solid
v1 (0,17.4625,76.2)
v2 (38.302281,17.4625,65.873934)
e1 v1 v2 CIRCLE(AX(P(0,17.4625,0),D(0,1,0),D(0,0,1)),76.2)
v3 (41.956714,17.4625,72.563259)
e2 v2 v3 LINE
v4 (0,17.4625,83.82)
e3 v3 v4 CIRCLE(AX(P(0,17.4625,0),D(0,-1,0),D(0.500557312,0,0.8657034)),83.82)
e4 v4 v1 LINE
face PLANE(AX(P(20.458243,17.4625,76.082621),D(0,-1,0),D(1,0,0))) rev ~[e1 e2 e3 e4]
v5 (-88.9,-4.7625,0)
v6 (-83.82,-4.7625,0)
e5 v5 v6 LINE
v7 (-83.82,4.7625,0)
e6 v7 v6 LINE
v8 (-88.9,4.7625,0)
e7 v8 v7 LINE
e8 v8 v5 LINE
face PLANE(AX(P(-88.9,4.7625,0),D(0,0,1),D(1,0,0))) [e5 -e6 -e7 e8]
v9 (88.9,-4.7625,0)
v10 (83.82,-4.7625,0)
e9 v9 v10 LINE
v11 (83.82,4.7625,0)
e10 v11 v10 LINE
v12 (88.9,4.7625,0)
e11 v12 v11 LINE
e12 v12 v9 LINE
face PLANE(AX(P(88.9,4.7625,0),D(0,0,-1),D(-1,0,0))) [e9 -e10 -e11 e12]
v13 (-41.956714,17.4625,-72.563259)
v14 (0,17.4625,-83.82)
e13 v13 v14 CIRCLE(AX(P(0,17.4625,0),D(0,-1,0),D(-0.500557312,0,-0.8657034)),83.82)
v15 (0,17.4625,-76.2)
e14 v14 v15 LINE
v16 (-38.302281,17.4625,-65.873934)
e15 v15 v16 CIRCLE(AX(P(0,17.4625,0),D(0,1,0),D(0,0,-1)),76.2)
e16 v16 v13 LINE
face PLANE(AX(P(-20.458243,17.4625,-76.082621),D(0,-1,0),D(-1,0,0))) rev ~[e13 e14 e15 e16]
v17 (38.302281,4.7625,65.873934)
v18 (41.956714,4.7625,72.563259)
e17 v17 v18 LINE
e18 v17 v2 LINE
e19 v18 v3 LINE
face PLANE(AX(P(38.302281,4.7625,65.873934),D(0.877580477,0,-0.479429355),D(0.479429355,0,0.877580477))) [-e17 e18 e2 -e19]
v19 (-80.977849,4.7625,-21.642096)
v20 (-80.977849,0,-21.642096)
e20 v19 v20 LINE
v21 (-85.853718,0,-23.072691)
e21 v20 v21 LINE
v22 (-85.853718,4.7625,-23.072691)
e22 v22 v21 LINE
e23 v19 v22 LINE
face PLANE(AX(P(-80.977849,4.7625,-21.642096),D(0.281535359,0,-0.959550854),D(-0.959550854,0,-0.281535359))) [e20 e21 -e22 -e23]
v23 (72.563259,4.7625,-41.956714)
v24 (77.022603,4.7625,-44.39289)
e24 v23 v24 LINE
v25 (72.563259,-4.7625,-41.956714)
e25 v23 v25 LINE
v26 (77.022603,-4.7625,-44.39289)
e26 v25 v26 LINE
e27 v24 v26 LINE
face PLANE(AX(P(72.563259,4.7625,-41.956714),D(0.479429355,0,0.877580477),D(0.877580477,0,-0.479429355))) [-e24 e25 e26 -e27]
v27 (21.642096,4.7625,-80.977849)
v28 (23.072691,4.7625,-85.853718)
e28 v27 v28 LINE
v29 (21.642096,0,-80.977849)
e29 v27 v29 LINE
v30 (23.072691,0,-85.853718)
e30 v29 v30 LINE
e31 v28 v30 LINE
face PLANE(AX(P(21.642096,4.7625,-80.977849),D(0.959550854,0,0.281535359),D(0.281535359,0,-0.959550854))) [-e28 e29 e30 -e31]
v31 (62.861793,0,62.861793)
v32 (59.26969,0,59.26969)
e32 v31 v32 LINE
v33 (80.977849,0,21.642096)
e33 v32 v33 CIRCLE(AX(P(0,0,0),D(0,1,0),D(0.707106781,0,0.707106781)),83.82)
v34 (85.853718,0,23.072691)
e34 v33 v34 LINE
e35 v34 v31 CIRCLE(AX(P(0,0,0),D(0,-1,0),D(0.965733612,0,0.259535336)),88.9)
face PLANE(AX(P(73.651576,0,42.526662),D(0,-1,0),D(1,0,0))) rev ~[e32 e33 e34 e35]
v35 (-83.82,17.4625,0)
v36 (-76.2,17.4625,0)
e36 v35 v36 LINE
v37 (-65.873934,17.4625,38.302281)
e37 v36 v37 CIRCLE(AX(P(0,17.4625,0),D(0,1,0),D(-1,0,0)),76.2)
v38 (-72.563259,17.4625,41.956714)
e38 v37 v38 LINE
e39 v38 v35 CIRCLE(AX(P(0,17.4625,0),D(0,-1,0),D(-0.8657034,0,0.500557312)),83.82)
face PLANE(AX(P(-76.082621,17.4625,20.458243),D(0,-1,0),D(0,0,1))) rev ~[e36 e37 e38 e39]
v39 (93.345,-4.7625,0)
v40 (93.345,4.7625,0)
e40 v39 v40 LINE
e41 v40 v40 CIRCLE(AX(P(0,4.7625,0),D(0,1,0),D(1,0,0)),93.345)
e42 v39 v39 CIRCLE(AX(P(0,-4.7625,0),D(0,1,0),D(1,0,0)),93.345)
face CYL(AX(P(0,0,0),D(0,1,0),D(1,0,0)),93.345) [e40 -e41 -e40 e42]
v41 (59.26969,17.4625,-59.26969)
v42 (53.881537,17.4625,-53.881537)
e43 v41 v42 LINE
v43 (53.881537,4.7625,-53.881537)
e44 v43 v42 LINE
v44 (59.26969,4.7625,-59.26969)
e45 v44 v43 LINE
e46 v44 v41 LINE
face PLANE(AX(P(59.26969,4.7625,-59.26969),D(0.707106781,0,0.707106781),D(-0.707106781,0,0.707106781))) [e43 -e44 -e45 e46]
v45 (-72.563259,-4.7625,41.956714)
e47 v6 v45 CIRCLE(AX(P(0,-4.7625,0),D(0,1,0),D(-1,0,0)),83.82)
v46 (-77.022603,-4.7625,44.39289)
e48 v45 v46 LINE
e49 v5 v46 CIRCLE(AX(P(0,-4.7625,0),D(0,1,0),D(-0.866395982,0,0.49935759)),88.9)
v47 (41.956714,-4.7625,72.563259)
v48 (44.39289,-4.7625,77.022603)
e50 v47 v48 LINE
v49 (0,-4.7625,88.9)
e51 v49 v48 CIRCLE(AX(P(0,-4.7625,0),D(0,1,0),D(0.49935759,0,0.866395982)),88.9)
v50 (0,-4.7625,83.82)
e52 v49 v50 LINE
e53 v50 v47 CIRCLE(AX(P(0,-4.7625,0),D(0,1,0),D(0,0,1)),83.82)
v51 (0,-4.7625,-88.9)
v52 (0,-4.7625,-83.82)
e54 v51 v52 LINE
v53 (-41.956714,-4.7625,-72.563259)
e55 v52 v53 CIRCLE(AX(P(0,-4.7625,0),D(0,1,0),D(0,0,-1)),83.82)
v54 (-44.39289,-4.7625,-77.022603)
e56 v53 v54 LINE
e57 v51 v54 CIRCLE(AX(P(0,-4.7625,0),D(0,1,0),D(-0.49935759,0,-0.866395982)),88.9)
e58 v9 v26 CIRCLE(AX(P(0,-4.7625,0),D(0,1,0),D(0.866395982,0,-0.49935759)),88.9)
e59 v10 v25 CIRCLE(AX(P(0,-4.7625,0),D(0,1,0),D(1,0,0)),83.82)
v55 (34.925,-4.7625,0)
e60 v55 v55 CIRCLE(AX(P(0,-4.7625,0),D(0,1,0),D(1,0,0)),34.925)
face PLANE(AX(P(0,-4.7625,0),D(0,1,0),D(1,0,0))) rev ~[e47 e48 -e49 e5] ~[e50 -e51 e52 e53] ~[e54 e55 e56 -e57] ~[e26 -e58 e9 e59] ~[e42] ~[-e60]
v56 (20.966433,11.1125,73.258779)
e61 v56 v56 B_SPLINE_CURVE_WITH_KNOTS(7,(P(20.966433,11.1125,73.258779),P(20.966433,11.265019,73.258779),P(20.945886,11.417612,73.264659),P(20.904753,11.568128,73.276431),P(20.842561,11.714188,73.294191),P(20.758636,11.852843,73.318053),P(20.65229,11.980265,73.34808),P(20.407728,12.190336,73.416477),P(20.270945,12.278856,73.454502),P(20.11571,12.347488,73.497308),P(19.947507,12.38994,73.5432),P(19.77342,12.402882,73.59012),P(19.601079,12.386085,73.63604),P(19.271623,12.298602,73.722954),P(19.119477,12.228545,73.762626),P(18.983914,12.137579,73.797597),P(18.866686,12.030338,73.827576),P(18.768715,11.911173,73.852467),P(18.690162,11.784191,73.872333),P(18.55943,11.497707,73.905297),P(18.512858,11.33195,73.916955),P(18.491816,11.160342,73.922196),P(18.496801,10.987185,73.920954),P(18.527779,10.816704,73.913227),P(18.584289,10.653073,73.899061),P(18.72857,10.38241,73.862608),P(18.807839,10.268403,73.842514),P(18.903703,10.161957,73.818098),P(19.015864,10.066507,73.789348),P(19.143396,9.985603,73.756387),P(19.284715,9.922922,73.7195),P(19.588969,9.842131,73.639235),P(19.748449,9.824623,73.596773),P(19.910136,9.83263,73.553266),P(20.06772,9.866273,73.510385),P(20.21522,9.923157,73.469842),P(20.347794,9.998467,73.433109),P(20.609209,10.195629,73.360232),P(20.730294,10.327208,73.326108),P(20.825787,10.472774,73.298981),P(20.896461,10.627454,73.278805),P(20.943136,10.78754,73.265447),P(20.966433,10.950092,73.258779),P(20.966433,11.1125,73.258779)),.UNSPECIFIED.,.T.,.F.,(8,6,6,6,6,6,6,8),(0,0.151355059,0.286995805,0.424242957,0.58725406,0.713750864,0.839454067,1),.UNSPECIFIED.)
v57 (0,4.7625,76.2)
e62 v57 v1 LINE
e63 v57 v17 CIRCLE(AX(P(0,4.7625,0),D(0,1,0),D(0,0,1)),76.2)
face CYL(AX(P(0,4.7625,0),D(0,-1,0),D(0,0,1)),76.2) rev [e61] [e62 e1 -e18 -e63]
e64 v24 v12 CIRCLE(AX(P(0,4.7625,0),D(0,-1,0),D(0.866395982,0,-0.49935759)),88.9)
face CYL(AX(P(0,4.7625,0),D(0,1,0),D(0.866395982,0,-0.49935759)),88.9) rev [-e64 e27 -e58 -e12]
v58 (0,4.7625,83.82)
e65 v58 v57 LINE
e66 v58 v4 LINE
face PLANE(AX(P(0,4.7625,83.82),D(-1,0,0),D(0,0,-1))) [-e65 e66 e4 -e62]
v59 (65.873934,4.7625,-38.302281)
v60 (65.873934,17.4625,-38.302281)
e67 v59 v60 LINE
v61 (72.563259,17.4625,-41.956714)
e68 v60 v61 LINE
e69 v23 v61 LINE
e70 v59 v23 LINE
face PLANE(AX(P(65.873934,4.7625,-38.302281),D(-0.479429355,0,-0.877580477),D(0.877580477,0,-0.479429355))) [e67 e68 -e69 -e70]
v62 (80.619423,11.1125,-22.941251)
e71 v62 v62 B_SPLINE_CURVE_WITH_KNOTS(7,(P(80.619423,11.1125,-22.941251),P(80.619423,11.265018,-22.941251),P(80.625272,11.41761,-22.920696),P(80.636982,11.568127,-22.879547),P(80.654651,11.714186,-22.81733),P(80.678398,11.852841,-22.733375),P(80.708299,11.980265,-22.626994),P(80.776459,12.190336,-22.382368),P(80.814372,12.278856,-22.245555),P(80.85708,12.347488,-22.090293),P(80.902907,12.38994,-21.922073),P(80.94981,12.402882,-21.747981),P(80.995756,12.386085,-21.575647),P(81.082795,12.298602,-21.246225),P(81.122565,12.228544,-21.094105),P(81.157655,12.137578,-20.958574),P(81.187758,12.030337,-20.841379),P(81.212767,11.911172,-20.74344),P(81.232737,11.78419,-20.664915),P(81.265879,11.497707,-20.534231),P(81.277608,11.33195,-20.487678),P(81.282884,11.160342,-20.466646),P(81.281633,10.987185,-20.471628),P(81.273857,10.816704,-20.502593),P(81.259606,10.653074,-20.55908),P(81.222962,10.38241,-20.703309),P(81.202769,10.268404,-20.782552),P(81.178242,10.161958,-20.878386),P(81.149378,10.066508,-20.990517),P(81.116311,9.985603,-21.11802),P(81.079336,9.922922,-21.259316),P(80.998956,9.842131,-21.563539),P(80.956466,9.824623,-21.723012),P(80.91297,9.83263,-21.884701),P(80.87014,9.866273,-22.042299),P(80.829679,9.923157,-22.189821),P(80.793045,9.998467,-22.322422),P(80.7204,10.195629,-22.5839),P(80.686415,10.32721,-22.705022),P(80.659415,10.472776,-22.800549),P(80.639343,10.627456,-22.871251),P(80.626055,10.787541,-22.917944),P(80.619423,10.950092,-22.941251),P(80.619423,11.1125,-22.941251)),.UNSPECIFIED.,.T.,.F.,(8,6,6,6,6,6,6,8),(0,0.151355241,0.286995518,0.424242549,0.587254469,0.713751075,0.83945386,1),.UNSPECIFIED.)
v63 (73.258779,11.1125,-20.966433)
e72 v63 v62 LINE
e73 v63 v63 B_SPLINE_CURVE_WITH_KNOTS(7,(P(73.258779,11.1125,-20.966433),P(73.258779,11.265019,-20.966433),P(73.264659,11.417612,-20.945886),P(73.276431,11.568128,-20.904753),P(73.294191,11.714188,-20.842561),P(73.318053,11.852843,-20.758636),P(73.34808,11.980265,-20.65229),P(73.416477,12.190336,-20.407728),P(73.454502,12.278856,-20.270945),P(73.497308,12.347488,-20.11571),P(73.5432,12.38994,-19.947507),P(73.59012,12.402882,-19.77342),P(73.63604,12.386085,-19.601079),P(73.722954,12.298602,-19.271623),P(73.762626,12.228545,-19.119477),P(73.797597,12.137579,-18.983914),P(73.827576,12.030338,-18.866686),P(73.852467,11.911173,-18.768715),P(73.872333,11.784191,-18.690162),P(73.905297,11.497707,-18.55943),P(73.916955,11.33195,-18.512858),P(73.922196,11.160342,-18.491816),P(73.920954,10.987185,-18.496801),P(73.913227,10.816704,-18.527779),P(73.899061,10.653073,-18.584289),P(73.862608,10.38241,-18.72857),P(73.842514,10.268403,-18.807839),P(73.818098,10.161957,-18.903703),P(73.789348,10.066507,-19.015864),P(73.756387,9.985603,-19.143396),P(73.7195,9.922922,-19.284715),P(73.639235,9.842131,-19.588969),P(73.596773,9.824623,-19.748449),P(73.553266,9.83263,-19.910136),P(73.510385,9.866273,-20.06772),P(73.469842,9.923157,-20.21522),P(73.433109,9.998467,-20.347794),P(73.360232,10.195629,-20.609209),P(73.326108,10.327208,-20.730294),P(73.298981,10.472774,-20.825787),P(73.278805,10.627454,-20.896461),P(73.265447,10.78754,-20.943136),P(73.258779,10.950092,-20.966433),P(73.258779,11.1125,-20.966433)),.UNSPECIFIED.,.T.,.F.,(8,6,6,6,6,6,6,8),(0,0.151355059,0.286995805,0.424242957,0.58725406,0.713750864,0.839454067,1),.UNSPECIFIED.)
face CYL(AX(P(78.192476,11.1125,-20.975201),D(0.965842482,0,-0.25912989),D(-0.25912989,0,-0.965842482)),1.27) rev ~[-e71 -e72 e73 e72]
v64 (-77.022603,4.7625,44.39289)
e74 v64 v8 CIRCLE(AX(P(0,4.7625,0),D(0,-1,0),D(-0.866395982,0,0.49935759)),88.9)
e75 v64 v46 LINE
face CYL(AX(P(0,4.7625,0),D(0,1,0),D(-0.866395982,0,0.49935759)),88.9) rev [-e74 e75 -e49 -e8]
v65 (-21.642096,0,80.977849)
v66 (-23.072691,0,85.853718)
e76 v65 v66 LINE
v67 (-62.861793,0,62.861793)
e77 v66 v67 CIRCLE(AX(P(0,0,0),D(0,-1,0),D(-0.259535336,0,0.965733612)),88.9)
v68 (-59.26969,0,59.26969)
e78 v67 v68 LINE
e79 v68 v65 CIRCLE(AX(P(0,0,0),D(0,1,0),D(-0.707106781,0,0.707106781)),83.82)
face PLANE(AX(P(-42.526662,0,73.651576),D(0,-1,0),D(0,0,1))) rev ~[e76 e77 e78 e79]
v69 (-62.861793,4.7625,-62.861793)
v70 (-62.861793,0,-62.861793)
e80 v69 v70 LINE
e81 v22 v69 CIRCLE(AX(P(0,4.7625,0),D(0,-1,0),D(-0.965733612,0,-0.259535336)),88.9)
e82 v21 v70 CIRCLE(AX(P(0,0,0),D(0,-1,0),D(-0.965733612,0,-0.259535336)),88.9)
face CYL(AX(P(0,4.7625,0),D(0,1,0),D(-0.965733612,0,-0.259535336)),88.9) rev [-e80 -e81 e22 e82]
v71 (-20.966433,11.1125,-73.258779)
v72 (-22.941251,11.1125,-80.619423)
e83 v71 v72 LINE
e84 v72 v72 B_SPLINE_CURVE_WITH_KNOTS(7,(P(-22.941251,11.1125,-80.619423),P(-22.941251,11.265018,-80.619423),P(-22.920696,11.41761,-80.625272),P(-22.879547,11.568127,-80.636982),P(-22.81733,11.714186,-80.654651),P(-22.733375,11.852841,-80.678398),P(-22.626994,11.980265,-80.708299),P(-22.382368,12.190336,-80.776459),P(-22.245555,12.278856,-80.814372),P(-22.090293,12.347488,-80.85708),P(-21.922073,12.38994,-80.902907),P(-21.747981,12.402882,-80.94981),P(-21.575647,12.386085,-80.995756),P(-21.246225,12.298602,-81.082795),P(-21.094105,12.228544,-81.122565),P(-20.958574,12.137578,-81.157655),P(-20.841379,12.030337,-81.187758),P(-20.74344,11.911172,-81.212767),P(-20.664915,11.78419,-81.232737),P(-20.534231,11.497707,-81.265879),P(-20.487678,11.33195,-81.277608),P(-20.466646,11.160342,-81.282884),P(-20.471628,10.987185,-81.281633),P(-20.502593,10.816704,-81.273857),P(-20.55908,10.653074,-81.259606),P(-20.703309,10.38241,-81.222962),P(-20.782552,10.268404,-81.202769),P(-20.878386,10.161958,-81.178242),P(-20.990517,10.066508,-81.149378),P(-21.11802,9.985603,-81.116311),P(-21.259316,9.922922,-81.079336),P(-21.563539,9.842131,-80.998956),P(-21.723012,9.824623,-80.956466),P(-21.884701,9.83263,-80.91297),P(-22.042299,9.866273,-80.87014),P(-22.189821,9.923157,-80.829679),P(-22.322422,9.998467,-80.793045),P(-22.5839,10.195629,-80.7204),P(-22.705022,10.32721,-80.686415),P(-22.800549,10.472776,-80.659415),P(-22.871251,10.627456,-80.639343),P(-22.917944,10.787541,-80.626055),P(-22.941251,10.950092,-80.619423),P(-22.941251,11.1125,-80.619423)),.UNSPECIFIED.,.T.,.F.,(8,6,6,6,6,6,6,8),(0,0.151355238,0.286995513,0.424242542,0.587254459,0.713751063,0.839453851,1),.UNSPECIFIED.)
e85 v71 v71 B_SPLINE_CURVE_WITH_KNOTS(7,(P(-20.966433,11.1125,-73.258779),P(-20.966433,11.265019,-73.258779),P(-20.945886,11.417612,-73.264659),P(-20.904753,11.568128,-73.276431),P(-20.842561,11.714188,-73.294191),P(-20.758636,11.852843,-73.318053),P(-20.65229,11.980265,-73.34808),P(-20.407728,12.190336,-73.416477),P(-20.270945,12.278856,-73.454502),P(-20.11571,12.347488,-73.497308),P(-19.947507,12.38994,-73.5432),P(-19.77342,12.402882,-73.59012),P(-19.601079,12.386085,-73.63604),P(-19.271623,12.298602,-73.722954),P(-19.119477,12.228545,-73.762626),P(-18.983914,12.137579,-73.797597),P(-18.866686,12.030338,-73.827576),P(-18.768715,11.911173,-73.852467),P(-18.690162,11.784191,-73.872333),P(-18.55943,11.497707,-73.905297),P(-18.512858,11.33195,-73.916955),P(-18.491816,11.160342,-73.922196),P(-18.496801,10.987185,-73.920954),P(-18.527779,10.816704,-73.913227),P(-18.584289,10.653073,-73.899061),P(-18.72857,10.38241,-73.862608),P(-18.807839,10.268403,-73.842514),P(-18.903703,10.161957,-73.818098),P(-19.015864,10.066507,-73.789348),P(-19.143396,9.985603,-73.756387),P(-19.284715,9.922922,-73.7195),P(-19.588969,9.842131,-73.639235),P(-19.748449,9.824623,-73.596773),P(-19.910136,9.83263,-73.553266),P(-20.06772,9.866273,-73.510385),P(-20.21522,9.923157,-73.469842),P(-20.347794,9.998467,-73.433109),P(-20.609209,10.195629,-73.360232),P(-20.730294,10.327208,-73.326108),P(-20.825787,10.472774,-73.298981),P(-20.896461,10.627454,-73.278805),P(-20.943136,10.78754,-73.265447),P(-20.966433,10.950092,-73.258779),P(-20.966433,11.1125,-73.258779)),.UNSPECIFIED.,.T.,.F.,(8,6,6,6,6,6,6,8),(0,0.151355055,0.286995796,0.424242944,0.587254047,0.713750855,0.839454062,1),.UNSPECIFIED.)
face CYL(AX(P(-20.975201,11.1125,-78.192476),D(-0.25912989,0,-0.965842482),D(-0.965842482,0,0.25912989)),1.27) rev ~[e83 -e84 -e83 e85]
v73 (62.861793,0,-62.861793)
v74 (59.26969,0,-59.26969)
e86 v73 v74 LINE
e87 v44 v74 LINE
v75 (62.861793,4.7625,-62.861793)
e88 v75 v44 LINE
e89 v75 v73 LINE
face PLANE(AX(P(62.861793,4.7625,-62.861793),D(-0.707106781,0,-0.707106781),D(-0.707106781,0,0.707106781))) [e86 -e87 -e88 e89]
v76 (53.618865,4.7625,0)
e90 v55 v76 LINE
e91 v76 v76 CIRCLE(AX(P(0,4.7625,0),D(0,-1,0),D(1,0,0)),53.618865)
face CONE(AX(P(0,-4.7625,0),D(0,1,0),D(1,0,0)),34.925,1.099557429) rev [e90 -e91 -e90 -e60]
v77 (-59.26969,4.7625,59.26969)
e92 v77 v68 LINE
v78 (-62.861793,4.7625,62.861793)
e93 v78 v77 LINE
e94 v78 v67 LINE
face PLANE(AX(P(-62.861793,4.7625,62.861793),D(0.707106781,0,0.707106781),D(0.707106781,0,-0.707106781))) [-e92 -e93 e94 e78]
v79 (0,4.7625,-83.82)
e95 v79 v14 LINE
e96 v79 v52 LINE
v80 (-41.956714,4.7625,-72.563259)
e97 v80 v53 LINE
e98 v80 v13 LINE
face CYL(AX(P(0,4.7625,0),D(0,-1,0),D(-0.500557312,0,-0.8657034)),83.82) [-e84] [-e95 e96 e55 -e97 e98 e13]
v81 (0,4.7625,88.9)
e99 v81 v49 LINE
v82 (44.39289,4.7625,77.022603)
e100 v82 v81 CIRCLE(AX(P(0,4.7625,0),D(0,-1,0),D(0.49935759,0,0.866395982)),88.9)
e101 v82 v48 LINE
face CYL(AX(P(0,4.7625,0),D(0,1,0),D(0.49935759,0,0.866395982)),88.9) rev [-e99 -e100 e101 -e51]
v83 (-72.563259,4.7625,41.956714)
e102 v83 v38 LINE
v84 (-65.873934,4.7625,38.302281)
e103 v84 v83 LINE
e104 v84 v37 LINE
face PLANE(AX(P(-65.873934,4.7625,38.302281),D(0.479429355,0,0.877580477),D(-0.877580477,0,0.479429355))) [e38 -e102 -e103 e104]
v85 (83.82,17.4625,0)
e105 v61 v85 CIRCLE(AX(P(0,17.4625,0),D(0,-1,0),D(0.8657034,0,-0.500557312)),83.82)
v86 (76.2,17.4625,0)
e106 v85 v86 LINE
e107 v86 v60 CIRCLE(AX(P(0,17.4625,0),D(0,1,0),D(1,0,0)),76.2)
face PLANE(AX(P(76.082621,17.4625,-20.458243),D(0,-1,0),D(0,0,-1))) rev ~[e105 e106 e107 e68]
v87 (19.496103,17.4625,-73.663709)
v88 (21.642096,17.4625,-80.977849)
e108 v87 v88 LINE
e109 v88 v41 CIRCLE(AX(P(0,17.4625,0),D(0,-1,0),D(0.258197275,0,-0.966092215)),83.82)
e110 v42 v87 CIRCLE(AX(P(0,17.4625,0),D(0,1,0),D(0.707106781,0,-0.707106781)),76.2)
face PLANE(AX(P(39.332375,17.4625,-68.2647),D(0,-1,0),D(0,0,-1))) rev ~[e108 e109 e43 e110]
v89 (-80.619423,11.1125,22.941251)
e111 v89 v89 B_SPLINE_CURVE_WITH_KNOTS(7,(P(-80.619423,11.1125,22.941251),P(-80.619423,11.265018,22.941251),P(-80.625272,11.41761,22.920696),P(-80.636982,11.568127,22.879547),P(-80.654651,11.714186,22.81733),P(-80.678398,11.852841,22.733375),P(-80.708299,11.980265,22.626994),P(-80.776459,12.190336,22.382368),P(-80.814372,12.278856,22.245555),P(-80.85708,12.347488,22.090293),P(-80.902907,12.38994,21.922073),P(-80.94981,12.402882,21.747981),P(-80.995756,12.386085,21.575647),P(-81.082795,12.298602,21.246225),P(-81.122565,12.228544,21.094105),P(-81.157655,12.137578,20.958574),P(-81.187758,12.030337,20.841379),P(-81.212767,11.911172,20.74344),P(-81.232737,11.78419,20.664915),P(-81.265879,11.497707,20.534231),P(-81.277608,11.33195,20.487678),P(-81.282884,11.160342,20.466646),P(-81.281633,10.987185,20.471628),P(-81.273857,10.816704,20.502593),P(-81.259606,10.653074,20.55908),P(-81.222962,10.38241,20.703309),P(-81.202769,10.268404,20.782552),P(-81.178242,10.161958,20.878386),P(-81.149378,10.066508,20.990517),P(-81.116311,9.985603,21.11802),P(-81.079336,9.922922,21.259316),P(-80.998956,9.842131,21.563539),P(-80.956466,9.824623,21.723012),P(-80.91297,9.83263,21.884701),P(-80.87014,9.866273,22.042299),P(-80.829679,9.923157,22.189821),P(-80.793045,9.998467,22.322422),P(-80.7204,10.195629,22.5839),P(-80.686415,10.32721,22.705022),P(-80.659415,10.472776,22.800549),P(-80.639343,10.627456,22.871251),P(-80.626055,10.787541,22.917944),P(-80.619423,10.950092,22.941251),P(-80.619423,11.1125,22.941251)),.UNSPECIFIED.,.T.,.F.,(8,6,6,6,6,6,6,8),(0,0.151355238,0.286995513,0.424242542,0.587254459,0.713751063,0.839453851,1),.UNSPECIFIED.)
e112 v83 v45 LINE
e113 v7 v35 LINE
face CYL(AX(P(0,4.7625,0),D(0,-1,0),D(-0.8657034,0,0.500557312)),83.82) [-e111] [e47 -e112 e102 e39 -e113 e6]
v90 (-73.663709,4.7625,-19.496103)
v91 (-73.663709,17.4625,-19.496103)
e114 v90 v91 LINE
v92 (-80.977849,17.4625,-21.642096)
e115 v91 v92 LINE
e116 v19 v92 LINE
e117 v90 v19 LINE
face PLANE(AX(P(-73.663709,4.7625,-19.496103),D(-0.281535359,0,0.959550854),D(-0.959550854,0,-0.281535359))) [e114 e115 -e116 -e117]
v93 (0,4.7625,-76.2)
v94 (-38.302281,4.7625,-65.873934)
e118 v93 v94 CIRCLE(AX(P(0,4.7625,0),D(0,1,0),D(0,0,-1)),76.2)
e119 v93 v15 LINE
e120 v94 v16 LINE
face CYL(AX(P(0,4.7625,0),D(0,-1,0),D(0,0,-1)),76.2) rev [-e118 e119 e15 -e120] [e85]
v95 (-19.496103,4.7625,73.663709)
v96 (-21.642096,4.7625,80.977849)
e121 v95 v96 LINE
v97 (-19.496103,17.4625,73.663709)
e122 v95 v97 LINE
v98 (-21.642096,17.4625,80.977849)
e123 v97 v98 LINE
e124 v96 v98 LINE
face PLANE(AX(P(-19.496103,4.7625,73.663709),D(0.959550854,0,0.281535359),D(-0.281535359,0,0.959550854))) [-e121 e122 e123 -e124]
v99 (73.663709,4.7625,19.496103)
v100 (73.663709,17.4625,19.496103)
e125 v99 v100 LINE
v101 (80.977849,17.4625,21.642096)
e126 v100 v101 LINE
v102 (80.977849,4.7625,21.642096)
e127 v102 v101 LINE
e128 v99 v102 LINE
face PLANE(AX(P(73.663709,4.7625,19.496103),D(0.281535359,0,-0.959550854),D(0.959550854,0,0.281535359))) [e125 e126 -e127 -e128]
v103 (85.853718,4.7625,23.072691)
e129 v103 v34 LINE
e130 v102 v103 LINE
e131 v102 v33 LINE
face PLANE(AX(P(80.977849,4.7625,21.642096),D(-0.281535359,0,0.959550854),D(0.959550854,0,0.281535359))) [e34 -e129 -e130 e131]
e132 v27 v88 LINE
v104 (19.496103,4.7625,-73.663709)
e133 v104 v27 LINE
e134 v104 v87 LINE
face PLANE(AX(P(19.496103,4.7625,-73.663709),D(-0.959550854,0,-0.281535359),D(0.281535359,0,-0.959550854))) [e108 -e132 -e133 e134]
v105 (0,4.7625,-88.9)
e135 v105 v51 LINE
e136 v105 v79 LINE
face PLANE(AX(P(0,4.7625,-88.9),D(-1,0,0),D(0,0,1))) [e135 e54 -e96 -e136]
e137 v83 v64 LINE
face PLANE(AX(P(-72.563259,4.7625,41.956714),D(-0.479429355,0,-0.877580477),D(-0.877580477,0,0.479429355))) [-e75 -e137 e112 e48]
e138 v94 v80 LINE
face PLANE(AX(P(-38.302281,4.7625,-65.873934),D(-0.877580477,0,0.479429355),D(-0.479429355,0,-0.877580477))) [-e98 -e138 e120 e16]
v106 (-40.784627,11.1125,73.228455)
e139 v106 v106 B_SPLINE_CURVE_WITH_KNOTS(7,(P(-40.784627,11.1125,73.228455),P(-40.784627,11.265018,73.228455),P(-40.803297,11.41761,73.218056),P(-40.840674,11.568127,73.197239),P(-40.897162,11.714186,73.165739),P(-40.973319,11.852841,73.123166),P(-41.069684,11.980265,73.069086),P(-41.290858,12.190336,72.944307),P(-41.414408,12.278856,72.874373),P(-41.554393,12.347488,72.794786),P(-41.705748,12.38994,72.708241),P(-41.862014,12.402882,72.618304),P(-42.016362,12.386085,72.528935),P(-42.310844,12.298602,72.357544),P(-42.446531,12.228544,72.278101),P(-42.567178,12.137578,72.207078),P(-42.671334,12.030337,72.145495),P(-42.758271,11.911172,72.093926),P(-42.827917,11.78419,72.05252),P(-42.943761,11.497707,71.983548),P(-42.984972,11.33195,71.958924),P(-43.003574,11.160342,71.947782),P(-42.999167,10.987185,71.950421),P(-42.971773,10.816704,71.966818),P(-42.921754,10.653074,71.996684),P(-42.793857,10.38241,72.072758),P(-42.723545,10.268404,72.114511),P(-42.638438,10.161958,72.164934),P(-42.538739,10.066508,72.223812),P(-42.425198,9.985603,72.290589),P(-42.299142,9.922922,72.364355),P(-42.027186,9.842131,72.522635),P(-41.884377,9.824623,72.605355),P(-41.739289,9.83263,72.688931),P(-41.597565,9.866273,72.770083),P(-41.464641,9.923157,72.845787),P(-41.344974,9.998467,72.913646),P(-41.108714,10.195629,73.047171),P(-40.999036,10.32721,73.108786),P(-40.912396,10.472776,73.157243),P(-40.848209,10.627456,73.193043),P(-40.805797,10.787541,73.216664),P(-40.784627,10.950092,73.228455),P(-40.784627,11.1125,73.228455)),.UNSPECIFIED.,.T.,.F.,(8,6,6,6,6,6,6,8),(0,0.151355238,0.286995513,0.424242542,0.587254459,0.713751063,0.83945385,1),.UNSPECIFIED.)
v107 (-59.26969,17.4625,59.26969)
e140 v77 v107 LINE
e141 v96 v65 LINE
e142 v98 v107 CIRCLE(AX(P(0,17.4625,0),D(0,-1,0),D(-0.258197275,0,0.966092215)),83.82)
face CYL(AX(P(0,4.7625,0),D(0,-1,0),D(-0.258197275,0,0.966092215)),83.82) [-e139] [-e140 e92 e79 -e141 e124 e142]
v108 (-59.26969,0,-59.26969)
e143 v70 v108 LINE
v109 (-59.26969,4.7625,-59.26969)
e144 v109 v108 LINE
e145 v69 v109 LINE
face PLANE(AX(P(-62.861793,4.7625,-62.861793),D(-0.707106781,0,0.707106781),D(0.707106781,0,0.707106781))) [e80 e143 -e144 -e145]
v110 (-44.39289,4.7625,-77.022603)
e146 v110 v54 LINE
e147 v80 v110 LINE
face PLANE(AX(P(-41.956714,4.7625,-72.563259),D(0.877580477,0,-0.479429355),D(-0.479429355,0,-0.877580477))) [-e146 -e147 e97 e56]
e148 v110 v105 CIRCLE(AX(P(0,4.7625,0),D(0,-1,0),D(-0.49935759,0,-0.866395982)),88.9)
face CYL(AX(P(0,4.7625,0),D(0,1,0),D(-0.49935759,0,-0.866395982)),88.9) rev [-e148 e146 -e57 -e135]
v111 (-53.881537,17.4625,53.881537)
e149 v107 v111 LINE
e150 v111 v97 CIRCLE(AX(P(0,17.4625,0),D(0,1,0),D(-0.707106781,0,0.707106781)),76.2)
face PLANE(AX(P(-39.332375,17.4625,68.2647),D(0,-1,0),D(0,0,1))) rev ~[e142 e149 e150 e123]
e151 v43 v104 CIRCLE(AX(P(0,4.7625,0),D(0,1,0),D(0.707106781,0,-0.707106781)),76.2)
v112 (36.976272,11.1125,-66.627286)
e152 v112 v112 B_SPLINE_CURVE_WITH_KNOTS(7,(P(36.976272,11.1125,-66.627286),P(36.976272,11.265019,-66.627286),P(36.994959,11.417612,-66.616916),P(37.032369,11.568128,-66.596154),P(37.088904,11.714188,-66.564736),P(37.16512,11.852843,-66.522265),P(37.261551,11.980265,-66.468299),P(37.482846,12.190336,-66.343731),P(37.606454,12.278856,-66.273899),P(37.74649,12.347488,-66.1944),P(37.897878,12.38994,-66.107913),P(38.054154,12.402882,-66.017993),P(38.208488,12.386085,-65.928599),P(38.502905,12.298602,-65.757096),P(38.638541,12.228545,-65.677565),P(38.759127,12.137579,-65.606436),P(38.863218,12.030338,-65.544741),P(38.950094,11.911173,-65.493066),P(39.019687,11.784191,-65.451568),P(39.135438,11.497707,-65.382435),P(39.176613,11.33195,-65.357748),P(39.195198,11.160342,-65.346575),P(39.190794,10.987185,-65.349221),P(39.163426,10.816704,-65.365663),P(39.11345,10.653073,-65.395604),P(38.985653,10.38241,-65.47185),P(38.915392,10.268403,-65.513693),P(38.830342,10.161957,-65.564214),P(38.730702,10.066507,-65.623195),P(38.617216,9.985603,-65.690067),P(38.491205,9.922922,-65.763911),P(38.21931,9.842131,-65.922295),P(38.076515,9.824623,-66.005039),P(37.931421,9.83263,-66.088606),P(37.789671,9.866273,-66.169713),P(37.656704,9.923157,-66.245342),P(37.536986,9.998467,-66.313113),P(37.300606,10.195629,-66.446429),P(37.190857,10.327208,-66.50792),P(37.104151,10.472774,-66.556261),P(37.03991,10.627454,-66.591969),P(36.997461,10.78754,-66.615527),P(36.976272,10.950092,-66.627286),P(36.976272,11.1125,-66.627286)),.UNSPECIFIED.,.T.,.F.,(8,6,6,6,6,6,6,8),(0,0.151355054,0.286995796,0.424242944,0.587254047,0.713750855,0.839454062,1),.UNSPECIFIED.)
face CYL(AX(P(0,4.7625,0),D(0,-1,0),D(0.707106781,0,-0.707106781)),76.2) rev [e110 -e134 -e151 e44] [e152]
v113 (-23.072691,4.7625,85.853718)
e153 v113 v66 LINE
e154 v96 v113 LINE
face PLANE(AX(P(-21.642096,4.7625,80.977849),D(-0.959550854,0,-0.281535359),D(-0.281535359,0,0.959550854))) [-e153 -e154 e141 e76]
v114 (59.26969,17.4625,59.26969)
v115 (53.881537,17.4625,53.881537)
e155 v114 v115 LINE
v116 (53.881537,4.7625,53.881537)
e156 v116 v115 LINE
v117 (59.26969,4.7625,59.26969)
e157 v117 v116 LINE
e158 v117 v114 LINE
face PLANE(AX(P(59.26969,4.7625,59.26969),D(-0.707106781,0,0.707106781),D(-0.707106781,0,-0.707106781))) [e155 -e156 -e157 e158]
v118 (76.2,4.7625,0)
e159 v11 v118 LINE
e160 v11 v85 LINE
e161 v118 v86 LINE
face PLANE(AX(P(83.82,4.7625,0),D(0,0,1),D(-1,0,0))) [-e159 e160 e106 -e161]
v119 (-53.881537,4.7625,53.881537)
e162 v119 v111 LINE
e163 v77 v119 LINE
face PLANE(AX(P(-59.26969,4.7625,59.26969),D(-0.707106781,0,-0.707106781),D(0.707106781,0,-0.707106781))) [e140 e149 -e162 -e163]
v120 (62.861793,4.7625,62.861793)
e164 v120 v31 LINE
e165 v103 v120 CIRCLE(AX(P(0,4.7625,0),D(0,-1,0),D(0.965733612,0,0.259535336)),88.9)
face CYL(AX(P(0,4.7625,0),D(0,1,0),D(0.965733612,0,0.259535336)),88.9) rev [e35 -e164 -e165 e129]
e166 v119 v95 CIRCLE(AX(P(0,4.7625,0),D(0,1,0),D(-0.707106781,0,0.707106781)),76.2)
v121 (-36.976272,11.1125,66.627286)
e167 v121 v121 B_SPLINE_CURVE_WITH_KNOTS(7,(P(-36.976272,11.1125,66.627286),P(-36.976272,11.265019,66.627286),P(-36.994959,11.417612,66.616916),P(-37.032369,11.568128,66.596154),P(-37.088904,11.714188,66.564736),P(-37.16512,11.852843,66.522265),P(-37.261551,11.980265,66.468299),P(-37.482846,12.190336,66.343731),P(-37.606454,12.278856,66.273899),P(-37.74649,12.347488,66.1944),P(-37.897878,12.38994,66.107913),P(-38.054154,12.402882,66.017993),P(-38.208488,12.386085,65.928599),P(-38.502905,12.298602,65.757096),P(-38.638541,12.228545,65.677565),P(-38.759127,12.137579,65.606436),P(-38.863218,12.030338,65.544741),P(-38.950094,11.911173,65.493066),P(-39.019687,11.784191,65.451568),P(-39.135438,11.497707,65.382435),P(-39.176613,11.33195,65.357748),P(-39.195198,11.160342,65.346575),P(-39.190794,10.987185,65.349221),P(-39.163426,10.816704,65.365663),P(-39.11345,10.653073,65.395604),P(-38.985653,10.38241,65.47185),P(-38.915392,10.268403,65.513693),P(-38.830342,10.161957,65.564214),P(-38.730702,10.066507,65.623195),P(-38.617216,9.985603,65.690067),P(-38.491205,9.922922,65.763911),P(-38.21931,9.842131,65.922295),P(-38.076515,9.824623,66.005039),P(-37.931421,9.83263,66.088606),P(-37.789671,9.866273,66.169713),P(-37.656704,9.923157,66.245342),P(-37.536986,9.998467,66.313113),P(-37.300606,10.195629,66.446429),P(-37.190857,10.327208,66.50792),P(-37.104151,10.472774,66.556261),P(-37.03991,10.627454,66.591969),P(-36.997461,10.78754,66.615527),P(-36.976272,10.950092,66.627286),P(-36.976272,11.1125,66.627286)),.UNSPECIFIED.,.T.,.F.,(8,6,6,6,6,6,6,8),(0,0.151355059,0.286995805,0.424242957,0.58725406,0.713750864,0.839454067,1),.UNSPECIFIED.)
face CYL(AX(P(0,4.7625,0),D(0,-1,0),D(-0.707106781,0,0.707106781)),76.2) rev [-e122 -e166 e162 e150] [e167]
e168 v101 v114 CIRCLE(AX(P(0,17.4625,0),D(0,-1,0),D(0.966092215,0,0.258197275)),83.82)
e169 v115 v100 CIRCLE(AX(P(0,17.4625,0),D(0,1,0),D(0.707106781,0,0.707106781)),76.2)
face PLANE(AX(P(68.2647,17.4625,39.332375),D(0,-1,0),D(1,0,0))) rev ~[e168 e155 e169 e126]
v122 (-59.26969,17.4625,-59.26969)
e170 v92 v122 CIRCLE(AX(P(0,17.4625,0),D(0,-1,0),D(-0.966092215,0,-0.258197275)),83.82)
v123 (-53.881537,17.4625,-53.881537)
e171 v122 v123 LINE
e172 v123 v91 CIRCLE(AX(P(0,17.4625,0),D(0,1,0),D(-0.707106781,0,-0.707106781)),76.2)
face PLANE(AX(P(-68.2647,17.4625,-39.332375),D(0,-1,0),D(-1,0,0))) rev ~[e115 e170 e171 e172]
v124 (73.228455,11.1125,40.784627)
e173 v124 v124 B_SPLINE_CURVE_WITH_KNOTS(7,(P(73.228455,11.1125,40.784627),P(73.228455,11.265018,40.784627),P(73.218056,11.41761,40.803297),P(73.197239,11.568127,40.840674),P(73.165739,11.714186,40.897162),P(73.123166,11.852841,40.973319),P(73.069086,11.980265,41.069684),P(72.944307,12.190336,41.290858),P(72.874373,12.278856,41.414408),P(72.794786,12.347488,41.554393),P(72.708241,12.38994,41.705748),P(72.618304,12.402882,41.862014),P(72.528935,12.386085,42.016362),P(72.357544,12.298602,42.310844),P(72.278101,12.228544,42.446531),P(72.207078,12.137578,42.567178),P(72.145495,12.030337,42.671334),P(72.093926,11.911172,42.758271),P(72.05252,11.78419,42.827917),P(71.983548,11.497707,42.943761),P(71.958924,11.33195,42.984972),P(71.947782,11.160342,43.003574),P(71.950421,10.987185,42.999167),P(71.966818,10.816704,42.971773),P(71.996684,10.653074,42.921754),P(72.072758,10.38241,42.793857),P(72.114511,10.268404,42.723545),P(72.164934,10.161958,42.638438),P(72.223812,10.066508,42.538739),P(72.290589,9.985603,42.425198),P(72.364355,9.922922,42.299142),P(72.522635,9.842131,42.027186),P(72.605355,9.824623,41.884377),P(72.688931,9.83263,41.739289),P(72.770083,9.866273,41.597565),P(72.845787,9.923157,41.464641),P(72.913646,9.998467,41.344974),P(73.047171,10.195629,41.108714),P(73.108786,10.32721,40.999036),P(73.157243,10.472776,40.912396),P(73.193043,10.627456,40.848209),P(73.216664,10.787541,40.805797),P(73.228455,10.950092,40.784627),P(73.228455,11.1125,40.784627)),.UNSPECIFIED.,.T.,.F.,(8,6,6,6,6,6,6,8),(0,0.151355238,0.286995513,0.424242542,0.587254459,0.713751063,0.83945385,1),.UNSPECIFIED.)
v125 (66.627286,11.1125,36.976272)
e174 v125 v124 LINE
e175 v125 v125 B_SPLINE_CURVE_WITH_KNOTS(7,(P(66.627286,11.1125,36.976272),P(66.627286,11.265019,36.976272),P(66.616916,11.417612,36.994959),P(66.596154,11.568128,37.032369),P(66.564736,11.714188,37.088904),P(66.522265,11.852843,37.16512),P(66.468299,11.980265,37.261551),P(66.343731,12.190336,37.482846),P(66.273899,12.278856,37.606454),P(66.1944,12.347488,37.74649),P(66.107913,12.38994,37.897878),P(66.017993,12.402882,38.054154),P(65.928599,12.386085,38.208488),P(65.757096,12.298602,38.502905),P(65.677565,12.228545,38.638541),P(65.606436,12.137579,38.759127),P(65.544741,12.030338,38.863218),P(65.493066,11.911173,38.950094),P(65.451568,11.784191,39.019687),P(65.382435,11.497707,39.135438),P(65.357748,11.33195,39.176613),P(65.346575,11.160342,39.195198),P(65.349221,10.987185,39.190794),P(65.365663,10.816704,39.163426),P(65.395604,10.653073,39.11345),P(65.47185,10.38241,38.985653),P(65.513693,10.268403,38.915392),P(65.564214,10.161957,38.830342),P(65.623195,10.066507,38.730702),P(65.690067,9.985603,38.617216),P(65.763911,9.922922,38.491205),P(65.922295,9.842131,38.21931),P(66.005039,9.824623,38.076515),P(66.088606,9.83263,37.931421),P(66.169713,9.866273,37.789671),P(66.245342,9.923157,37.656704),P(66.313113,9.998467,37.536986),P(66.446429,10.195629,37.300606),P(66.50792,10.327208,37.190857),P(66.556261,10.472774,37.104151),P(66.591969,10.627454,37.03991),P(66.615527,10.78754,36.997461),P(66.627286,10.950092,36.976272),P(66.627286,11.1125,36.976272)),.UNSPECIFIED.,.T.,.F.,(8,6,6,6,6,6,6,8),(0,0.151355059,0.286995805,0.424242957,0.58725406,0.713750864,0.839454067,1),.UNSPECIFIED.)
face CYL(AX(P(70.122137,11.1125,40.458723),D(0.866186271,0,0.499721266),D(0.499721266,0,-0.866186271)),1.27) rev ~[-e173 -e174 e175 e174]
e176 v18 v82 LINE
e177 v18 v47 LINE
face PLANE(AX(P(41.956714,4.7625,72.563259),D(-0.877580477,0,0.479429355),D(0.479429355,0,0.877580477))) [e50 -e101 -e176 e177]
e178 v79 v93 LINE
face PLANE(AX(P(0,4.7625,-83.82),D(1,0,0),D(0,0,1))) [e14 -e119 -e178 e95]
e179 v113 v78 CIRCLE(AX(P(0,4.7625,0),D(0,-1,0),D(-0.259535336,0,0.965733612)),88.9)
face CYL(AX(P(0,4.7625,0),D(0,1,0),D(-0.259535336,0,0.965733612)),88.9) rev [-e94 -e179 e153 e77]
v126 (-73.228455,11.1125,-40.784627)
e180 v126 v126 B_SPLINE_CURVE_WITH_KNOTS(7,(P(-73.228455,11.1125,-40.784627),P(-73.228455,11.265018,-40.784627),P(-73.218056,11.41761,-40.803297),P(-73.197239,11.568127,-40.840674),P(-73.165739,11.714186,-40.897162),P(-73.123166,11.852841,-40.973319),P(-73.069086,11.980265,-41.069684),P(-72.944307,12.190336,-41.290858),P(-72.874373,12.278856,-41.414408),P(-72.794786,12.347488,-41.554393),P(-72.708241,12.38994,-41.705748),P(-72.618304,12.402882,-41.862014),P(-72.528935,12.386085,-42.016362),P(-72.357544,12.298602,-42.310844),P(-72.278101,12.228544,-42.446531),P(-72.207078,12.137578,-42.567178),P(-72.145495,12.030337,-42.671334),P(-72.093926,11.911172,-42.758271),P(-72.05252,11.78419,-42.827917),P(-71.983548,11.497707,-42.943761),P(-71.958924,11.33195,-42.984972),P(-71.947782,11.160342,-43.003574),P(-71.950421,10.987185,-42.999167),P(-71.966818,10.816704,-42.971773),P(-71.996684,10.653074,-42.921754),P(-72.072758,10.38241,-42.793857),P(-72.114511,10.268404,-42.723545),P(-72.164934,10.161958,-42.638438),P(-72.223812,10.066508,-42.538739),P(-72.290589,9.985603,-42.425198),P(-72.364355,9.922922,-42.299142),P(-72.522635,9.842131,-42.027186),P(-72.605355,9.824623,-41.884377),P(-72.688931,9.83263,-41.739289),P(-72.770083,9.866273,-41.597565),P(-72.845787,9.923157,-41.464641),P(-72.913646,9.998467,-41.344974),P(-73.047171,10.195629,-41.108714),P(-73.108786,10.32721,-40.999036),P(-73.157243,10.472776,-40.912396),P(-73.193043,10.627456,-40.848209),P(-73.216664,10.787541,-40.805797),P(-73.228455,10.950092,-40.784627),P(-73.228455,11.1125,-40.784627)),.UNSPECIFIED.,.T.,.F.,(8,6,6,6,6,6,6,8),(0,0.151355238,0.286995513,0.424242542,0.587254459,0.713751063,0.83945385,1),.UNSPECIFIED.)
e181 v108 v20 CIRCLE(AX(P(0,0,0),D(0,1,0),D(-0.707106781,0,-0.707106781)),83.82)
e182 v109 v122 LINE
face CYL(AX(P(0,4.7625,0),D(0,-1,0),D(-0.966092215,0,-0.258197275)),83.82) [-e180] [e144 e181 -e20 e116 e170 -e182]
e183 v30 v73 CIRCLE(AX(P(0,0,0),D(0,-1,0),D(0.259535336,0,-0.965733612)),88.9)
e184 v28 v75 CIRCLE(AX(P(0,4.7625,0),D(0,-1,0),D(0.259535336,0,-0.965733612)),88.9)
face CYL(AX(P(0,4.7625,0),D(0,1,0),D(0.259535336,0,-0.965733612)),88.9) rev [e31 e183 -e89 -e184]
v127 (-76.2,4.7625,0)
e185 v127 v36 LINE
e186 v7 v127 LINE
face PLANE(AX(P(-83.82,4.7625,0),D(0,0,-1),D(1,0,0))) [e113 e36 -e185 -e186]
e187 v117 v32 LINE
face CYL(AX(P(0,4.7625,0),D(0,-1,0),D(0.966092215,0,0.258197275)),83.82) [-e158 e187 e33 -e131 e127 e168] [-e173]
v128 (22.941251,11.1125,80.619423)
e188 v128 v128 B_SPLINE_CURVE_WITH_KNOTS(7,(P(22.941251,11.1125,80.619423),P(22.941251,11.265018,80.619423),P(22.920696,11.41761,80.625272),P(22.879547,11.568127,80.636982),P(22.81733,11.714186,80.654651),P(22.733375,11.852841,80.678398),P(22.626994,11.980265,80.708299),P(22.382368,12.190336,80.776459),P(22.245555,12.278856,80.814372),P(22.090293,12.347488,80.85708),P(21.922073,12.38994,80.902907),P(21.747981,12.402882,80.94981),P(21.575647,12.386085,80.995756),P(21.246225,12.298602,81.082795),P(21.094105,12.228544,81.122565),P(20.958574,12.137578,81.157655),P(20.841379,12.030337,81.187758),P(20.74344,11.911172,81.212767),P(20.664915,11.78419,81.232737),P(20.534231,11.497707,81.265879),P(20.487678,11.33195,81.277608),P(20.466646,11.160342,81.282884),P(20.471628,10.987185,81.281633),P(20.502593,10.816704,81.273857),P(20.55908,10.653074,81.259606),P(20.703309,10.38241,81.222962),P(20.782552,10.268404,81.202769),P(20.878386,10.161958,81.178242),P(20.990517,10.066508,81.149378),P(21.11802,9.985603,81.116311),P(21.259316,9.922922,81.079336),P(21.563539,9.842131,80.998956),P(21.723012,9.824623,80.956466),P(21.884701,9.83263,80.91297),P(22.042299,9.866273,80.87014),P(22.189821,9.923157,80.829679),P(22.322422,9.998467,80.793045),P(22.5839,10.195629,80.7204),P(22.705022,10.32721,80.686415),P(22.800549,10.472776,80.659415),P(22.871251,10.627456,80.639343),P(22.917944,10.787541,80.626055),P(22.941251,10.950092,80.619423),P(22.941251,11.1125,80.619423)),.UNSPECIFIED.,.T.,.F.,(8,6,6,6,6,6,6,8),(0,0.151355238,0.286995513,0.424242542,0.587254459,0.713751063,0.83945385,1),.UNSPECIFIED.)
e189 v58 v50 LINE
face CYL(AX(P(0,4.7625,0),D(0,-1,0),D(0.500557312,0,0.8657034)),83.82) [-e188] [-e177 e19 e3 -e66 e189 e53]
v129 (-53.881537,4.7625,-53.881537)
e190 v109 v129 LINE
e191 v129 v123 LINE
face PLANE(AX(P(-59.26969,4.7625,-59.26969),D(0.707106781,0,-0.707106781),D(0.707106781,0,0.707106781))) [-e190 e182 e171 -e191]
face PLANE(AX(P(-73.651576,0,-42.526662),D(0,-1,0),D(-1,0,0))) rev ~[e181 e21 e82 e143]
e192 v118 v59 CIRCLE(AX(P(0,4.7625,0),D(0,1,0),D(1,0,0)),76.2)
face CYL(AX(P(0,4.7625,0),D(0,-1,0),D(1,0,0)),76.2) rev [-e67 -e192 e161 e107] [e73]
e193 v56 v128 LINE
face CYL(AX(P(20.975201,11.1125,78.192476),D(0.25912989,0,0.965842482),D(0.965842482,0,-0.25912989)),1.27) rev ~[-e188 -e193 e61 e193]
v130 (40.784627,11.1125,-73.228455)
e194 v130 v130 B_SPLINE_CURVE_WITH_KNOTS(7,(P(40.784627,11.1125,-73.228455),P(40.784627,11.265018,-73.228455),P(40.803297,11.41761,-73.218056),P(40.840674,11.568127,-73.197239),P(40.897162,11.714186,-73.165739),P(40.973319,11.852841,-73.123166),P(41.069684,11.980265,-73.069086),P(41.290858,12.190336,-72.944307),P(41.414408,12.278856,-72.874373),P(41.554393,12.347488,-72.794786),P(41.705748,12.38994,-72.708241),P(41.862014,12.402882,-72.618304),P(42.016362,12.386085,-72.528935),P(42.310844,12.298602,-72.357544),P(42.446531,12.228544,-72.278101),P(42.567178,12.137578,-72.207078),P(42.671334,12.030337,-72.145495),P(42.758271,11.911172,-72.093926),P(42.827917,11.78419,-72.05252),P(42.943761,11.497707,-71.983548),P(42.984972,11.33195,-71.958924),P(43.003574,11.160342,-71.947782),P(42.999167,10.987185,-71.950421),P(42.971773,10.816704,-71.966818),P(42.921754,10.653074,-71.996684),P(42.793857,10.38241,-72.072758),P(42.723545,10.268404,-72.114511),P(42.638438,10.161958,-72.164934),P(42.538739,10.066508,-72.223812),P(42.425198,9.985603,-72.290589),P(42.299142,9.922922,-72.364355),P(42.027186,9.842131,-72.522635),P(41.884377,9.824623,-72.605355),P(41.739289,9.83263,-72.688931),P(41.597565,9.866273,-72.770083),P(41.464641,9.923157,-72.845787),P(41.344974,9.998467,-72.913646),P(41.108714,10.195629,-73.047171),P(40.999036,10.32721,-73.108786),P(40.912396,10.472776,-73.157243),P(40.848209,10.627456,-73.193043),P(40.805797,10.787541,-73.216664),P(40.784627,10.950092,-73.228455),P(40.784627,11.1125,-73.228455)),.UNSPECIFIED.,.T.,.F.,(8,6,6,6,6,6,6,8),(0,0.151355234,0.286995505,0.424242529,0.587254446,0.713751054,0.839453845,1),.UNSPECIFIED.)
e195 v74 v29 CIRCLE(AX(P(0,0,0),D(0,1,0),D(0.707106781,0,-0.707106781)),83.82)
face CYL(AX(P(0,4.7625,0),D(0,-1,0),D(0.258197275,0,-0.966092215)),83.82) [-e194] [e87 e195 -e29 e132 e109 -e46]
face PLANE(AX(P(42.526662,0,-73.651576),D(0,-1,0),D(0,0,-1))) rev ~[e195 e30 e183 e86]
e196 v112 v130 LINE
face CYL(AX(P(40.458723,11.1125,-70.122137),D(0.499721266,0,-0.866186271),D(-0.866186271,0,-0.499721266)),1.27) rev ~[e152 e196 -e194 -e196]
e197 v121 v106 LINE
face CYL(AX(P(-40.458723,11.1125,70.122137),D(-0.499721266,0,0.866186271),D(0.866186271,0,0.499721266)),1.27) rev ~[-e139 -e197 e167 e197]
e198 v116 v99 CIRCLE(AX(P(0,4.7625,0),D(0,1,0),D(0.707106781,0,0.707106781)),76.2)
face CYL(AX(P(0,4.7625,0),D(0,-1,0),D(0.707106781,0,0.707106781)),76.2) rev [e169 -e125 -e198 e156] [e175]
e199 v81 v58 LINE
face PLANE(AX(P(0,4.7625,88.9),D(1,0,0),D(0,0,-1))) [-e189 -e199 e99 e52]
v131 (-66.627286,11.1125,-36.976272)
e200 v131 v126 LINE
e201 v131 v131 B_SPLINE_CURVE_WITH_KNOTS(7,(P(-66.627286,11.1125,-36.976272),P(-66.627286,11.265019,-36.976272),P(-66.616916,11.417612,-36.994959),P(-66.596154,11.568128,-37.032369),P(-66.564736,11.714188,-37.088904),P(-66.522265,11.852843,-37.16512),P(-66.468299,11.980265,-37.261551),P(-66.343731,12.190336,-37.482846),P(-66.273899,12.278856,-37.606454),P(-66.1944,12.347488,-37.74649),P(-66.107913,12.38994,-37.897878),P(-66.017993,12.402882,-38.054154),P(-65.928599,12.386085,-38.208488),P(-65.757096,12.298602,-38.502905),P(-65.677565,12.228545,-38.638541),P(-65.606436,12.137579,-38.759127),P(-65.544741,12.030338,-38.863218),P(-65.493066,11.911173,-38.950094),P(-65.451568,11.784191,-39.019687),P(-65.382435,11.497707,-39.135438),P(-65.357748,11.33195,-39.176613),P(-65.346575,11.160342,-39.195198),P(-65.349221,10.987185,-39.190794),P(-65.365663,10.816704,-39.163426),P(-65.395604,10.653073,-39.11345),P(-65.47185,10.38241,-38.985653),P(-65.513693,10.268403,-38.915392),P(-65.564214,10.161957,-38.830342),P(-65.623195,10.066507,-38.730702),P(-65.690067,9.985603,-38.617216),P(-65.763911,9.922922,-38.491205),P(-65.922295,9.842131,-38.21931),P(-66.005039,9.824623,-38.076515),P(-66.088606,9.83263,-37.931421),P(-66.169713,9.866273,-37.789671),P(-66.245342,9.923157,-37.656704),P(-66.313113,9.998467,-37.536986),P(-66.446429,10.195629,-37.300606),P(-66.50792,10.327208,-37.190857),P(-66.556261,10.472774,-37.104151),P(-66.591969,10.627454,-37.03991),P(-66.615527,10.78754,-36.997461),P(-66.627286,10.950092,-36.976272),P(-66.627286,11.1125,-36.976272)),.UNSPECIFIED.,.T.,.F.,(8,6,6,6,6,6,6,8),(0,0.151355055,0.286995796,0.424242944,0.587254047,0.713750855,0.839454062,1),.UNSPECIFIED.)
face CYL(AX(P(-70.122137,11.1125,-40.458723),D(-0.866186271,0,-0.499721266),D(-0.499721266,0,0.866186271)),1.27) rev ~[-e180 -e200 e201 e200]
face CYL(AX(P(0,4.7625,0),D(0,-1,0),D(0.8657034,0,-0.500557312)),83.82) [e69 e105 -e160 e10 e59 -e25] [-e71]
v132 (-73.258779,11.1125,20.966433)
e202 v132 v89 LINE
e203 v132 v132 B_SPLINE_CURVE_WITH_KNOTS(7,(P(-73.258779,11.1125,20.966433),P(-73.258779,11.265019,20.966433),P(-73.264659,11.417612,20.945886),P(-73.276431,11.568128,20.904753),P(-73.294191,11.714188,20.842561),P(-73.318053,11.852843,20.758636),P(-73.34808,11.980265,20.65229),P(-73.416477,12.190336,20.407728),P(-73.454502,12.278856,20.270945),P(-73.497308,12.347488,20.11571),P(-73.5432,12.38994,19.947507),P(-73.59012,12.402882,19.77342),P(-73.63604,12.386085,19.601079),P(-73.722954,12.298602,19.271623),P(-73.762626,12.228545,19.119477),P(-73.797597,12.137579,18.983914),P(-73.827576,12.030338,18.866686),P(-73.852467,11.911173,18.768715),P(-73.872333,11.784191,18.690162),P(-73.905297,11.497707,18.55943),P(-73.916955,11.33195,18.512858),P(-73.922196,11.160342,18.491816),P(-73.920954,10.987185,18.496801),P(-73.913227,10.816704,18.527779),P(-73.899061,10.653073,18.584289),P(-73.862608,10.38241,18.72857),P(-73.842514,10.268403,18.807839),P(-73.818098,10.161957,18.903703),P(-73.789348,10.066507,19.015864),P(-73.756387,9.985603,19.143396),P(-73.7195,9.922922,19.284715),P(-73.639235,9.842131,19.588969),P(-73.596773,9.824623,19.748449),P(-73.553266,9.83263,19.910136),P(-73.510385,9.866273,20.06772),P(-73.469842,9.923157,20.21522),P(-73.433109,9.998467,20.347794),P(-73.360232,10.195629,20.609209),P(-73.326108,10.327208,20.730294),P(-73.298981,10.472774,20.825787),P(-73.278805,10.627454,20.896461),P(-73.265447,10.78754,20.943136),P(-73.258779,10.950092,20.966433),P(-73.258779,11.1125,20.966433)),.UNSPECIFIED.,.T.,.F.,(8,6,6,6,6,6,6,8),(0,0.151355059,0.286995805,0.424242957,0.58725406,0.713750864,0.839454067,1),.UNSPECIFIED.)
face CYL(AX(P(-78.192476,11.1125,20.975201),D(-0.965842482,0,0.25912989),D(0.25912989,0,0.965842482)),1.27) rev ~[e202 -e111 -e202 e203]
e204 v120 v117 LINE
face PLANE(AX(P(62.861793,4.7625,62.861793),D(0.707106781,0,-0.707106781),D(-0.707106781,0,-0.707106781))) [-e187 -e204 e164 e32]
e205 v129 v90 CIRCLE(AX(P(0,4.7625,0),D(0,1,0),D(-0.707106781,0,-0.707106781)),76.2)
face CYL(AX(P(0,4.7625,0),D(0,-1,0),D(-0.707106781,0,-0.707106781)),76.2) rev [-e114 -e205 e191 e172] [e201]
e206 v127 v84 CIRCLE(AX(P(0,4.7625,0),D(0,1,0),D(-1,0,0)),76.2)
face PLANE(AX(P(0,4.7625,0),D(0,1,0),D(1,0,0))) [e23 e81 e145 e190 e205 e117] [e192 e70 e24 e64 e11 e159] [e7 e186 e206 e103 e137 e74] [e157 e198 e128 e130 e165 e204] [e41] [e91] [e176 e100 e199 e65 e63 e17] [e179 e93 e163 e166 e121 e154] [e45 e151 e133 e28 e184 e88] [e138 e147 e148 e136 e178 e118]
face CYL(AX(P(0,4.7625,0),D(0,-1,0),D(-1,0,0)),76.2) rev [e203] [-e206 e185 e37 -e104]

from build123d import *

# Parameters (mm, degrees)
BASE_DEPTH                 = 4.7625
BASE_DEPTH_BACK            = 4.7625
SKETCH1_R                  = 93.345
BOTTOM_SUPPORT_HOLES_DEPTH = 133.352951138
BOTTOM_START               = 12.7
BOTTOM_SUPPORT_GUIDE_DEPTH = 12.7
SKETCH6_R                  = 1.27
BOTTOM_BOLT_HOLE_DEPTH     = 12.7
TOP_SUPPORT_HOLES_DEPTH    = 4.7625
TOP_START                  = 12.7
TOP_SUPPORT_GUIDE_DEPTH    = 12.7
SKETCH12_R                 = 1.27
TOP_BOLT_HOLE_DEPTH        = 12.7
BOTTOM_PATTERN_COUNT       = 4
CIRPATTERN3_COUNT          = 4
SKETCH13_R                 = 34.925
CUT_EXTRUDE5_DEPTH         = 12.7


with BuildPart() as part:
    # Sketch1 → Base (new, two sides: drawn at the far end of the back side and taken through both)
    with BuildSketch(Plane(origin=(0, 0, 0), x_dir=(1, 0, 0), z_dir=(0, 1, 0)).offset(-BASE_DEPTH_BACK)):
        Circle(SKETCH1_R)
    extrude(amount=BASE_DEPTH + BASE_DEPTH_BACK)

    # Sketch2 → Bottom support holes (cut, through all)
    with BuildSketch(Plane(origin=(0, 4.7625, 0), x_dir=(1, 0, 0), z_dir=(0, 1, 0))):
        with BuildLine():
            Line((0, 88.9), (0, 83.82))
            ThreePointArc((0, 83.82), (-21.72026739, 80.956916842), (-41.956713931, 72.563258996))
            Line((-41.956713931, 72.563258996), (-44.39288973, 77.022602796))
            ThreePointArc((-44.39288973, 77.022602796), (-22.977169228, 85.879332172), (0, 88.9))
        make_face()
    bottom_support_holes = extrude(amount=-BOTTOM_SUPPORT_HOLES_DEPTH, mode=Mode.SUBTRACT)

    # Sketch3 → Bottom support guide (add)
    with BuildSketch(Plane(origin=(0, 4.7625, 0), x_dir=(1, 0, 0), z_dir=(0, 1, 0)).offset(BOTTOM_START)):
        with BuildLine():
            Line((0, 83.82), (0, 76.2))
            ThreePointArc((0, 76.2), (-19.834896001, 73.573207764), (-38.302281481, 65.8739344))
            Line((-38.302281481, 65.8739344), (-41.956713931, 72.563258996))
            ThreePointArc((-41.956713931, 72.563258996), (-21.72026739, 80.956916842), (0, 83.82))
        make_face()
    bottom_support_guide = extrude(amount=-BOTTOM_SUPPORT_GUIDE_DEPTH)

    # Sketch6 → Bottom bolt hole (cut, symmetric)
    with BuildSketch(Plane(origin=(-20.978356966, 0, -78.191629498), x_dir=(-0.9658424820058785, 0, 0.2591298901183038), z_dir=(-0.2591298901183038, 0, -0.9658424820058785))):
        with Locations((-0.00326739, 11.1125)):
            Circle(SKETCH6_R)
    bottom_bolt_hole = extrude(amount=BOTTOM_BOLT_HOLE_DEPTH, both=True, mode=Mode.SUBTRACT)

    # Sketch8 → Top support holes (cut)
    with BuildSketch(Plane(origin=(-31.122978549, 4.7625, 77.296707326), x_dir=(1, 0, 0), z_dir=(0, 1, 0))):
        with BuildLine():
            Line((-31.738814298, 140.158500173), (-28.14671185, 136.566397725))
            ThreePointArc((-28.14671185, 136.566397725), (-41.480754694, 119.183343848), (-49.854870889, 98.93880289))
            Line((-49.854870889, 98.93880289), (-54.730739557, 100.369398703))
            ThreePointArc((-54.730739557, 100.369398703), (-45.850191767, 121.775253295), (-31.738814298, 140.158500173))
        make_face()
    top_support_holes = extrude(amount=-TOP_SUPPORT_HOLES_DEPTH, mode=Mode.SUBTRACT)

    # Sketch10 → Top support guide (add)
    with BuildSketch(Plane(origin=(-31.122978549, 4.7625, 77.296707326), x_dir=(1, 0, 0), z_dir=(0, 1, 0)).offset(TOP_START)):
        with BuildLine():
            Line((-28.14671185, 136.566397725), (-22.758558177, 131.178244052))
            ThreePointArc((-22.758558177, 131.178244052), (-34.92652504, 115.295431983), (-42.540730139, 96.792810073))
            Line((-42.540730139, 96.792810073), (-49.854870889, 98.93880289))
            ThreePointArc((-49.854870889, 98.93880289), (-41.480754694, 119.183343848), (-28.14671185, 136.566397725))
        make_face()
    top_support_guide = extrude(amount=-TOP_SUPPORT_GUIDE_DEPTH)

    # Sketch12 → Top bolt hole (cut, symmetric)
    with BuildSketch(Plane(origin=(-70.123769919, 0, -40.455892982), x_dir=(-0.4997212660736201, -5.817861610189737e-15, 0.8661862710951832), z_dir=(-0.8661862710951832, 1.404556040332972e-14, -0.4997212660736201))):
        with Locations((-0.00326739, 11.1125)):
            Circle(SKETCH12_R)
    top_bolt_hole = extrude(amount=TOP_BOLT_HOLE_DEPTH, both=True, mode=Mode.SUBTRACT)

    # Bottom pattern: Bottom support holes, Bottom support guide, Bottom bolt hole ×4 about axis
    bottom_pattern_axis = Axis((0, 4.7625, 0), (0, 1, 0))
    add([bottom_support_holes.rotate(bottom_pattern_axis, i * 360 / BOTTOM_PATTERN_COUNT) for i in range(1, BOTTOM_PATTERN_COUNT)], mode=Mode.SUBTRACT)
    add([bottom_support_guide.rotate(bottom_pattern_axis, i * 360 / BOTTOM_PATTERN_COUNT) for i in range(1, BOTTOM_PATTERN_COUNT)])
    add([bottom_bolt_hole.rotate(bottom_pattern_axis, i * 360 / BOTTOM_PATTERN_COUNT) for i in range(1, BOTTOM_PATTERN_COUNT)], mode=Mode.SUBTRACT)

    # CirPattern3: Top support holes, Top support guide, Top bolt hole ×4 about axis
    cirpattern3_axis = Axis((0, 4.7625, 0), (0, 1, 0))
    add([top_support_holes.rotate(cirpattern3_axis, i * 360 / CIRPATTERN3_COUNT) for i in range(1, CIRPATTERN3_COUNT)], mode=Mode.SUBTRACT)
    add([top_support_guide.rotate(cirpattern3_axis, i * 360 / CIRPATTERN3_COUNT) for i in range(1, CIRPATTERN3_COUNT)])
    add([top_bolt_hole.rotate(cirpattern3_axis, i * 360 / CIRPATTERN3_COUNT) for i in range(1, CIRPATTERN3_COUNT)], mode=Mode.SUBTRACT)

    # Sketch13 → Cut-Extrude5 (cut)
    with BuildSketch(Plane(origin=(0, 4.7625, 0), x_dir=(1, 0, 0), z_dir=(0, 1, 0))):
        Circle(SKETCH13_R)
    extrude(amount=-CUT_EXTRUDE5_DEPTH, mode=Mode.SUBTRACT)

    # Sketch14 → Cut-Revolve1 (revolve, cut)
    with BuildSketch(Plane.XY):
        Polygon((34.925, 4.7625), (34.925, -4.7625), (53.618865065, 4.7625), align=None)
    revolve(axis=Axis((0, 25.4, 0), (0, -1, 0)), mode=Mode.SUBTRACT)


solid = part.part
